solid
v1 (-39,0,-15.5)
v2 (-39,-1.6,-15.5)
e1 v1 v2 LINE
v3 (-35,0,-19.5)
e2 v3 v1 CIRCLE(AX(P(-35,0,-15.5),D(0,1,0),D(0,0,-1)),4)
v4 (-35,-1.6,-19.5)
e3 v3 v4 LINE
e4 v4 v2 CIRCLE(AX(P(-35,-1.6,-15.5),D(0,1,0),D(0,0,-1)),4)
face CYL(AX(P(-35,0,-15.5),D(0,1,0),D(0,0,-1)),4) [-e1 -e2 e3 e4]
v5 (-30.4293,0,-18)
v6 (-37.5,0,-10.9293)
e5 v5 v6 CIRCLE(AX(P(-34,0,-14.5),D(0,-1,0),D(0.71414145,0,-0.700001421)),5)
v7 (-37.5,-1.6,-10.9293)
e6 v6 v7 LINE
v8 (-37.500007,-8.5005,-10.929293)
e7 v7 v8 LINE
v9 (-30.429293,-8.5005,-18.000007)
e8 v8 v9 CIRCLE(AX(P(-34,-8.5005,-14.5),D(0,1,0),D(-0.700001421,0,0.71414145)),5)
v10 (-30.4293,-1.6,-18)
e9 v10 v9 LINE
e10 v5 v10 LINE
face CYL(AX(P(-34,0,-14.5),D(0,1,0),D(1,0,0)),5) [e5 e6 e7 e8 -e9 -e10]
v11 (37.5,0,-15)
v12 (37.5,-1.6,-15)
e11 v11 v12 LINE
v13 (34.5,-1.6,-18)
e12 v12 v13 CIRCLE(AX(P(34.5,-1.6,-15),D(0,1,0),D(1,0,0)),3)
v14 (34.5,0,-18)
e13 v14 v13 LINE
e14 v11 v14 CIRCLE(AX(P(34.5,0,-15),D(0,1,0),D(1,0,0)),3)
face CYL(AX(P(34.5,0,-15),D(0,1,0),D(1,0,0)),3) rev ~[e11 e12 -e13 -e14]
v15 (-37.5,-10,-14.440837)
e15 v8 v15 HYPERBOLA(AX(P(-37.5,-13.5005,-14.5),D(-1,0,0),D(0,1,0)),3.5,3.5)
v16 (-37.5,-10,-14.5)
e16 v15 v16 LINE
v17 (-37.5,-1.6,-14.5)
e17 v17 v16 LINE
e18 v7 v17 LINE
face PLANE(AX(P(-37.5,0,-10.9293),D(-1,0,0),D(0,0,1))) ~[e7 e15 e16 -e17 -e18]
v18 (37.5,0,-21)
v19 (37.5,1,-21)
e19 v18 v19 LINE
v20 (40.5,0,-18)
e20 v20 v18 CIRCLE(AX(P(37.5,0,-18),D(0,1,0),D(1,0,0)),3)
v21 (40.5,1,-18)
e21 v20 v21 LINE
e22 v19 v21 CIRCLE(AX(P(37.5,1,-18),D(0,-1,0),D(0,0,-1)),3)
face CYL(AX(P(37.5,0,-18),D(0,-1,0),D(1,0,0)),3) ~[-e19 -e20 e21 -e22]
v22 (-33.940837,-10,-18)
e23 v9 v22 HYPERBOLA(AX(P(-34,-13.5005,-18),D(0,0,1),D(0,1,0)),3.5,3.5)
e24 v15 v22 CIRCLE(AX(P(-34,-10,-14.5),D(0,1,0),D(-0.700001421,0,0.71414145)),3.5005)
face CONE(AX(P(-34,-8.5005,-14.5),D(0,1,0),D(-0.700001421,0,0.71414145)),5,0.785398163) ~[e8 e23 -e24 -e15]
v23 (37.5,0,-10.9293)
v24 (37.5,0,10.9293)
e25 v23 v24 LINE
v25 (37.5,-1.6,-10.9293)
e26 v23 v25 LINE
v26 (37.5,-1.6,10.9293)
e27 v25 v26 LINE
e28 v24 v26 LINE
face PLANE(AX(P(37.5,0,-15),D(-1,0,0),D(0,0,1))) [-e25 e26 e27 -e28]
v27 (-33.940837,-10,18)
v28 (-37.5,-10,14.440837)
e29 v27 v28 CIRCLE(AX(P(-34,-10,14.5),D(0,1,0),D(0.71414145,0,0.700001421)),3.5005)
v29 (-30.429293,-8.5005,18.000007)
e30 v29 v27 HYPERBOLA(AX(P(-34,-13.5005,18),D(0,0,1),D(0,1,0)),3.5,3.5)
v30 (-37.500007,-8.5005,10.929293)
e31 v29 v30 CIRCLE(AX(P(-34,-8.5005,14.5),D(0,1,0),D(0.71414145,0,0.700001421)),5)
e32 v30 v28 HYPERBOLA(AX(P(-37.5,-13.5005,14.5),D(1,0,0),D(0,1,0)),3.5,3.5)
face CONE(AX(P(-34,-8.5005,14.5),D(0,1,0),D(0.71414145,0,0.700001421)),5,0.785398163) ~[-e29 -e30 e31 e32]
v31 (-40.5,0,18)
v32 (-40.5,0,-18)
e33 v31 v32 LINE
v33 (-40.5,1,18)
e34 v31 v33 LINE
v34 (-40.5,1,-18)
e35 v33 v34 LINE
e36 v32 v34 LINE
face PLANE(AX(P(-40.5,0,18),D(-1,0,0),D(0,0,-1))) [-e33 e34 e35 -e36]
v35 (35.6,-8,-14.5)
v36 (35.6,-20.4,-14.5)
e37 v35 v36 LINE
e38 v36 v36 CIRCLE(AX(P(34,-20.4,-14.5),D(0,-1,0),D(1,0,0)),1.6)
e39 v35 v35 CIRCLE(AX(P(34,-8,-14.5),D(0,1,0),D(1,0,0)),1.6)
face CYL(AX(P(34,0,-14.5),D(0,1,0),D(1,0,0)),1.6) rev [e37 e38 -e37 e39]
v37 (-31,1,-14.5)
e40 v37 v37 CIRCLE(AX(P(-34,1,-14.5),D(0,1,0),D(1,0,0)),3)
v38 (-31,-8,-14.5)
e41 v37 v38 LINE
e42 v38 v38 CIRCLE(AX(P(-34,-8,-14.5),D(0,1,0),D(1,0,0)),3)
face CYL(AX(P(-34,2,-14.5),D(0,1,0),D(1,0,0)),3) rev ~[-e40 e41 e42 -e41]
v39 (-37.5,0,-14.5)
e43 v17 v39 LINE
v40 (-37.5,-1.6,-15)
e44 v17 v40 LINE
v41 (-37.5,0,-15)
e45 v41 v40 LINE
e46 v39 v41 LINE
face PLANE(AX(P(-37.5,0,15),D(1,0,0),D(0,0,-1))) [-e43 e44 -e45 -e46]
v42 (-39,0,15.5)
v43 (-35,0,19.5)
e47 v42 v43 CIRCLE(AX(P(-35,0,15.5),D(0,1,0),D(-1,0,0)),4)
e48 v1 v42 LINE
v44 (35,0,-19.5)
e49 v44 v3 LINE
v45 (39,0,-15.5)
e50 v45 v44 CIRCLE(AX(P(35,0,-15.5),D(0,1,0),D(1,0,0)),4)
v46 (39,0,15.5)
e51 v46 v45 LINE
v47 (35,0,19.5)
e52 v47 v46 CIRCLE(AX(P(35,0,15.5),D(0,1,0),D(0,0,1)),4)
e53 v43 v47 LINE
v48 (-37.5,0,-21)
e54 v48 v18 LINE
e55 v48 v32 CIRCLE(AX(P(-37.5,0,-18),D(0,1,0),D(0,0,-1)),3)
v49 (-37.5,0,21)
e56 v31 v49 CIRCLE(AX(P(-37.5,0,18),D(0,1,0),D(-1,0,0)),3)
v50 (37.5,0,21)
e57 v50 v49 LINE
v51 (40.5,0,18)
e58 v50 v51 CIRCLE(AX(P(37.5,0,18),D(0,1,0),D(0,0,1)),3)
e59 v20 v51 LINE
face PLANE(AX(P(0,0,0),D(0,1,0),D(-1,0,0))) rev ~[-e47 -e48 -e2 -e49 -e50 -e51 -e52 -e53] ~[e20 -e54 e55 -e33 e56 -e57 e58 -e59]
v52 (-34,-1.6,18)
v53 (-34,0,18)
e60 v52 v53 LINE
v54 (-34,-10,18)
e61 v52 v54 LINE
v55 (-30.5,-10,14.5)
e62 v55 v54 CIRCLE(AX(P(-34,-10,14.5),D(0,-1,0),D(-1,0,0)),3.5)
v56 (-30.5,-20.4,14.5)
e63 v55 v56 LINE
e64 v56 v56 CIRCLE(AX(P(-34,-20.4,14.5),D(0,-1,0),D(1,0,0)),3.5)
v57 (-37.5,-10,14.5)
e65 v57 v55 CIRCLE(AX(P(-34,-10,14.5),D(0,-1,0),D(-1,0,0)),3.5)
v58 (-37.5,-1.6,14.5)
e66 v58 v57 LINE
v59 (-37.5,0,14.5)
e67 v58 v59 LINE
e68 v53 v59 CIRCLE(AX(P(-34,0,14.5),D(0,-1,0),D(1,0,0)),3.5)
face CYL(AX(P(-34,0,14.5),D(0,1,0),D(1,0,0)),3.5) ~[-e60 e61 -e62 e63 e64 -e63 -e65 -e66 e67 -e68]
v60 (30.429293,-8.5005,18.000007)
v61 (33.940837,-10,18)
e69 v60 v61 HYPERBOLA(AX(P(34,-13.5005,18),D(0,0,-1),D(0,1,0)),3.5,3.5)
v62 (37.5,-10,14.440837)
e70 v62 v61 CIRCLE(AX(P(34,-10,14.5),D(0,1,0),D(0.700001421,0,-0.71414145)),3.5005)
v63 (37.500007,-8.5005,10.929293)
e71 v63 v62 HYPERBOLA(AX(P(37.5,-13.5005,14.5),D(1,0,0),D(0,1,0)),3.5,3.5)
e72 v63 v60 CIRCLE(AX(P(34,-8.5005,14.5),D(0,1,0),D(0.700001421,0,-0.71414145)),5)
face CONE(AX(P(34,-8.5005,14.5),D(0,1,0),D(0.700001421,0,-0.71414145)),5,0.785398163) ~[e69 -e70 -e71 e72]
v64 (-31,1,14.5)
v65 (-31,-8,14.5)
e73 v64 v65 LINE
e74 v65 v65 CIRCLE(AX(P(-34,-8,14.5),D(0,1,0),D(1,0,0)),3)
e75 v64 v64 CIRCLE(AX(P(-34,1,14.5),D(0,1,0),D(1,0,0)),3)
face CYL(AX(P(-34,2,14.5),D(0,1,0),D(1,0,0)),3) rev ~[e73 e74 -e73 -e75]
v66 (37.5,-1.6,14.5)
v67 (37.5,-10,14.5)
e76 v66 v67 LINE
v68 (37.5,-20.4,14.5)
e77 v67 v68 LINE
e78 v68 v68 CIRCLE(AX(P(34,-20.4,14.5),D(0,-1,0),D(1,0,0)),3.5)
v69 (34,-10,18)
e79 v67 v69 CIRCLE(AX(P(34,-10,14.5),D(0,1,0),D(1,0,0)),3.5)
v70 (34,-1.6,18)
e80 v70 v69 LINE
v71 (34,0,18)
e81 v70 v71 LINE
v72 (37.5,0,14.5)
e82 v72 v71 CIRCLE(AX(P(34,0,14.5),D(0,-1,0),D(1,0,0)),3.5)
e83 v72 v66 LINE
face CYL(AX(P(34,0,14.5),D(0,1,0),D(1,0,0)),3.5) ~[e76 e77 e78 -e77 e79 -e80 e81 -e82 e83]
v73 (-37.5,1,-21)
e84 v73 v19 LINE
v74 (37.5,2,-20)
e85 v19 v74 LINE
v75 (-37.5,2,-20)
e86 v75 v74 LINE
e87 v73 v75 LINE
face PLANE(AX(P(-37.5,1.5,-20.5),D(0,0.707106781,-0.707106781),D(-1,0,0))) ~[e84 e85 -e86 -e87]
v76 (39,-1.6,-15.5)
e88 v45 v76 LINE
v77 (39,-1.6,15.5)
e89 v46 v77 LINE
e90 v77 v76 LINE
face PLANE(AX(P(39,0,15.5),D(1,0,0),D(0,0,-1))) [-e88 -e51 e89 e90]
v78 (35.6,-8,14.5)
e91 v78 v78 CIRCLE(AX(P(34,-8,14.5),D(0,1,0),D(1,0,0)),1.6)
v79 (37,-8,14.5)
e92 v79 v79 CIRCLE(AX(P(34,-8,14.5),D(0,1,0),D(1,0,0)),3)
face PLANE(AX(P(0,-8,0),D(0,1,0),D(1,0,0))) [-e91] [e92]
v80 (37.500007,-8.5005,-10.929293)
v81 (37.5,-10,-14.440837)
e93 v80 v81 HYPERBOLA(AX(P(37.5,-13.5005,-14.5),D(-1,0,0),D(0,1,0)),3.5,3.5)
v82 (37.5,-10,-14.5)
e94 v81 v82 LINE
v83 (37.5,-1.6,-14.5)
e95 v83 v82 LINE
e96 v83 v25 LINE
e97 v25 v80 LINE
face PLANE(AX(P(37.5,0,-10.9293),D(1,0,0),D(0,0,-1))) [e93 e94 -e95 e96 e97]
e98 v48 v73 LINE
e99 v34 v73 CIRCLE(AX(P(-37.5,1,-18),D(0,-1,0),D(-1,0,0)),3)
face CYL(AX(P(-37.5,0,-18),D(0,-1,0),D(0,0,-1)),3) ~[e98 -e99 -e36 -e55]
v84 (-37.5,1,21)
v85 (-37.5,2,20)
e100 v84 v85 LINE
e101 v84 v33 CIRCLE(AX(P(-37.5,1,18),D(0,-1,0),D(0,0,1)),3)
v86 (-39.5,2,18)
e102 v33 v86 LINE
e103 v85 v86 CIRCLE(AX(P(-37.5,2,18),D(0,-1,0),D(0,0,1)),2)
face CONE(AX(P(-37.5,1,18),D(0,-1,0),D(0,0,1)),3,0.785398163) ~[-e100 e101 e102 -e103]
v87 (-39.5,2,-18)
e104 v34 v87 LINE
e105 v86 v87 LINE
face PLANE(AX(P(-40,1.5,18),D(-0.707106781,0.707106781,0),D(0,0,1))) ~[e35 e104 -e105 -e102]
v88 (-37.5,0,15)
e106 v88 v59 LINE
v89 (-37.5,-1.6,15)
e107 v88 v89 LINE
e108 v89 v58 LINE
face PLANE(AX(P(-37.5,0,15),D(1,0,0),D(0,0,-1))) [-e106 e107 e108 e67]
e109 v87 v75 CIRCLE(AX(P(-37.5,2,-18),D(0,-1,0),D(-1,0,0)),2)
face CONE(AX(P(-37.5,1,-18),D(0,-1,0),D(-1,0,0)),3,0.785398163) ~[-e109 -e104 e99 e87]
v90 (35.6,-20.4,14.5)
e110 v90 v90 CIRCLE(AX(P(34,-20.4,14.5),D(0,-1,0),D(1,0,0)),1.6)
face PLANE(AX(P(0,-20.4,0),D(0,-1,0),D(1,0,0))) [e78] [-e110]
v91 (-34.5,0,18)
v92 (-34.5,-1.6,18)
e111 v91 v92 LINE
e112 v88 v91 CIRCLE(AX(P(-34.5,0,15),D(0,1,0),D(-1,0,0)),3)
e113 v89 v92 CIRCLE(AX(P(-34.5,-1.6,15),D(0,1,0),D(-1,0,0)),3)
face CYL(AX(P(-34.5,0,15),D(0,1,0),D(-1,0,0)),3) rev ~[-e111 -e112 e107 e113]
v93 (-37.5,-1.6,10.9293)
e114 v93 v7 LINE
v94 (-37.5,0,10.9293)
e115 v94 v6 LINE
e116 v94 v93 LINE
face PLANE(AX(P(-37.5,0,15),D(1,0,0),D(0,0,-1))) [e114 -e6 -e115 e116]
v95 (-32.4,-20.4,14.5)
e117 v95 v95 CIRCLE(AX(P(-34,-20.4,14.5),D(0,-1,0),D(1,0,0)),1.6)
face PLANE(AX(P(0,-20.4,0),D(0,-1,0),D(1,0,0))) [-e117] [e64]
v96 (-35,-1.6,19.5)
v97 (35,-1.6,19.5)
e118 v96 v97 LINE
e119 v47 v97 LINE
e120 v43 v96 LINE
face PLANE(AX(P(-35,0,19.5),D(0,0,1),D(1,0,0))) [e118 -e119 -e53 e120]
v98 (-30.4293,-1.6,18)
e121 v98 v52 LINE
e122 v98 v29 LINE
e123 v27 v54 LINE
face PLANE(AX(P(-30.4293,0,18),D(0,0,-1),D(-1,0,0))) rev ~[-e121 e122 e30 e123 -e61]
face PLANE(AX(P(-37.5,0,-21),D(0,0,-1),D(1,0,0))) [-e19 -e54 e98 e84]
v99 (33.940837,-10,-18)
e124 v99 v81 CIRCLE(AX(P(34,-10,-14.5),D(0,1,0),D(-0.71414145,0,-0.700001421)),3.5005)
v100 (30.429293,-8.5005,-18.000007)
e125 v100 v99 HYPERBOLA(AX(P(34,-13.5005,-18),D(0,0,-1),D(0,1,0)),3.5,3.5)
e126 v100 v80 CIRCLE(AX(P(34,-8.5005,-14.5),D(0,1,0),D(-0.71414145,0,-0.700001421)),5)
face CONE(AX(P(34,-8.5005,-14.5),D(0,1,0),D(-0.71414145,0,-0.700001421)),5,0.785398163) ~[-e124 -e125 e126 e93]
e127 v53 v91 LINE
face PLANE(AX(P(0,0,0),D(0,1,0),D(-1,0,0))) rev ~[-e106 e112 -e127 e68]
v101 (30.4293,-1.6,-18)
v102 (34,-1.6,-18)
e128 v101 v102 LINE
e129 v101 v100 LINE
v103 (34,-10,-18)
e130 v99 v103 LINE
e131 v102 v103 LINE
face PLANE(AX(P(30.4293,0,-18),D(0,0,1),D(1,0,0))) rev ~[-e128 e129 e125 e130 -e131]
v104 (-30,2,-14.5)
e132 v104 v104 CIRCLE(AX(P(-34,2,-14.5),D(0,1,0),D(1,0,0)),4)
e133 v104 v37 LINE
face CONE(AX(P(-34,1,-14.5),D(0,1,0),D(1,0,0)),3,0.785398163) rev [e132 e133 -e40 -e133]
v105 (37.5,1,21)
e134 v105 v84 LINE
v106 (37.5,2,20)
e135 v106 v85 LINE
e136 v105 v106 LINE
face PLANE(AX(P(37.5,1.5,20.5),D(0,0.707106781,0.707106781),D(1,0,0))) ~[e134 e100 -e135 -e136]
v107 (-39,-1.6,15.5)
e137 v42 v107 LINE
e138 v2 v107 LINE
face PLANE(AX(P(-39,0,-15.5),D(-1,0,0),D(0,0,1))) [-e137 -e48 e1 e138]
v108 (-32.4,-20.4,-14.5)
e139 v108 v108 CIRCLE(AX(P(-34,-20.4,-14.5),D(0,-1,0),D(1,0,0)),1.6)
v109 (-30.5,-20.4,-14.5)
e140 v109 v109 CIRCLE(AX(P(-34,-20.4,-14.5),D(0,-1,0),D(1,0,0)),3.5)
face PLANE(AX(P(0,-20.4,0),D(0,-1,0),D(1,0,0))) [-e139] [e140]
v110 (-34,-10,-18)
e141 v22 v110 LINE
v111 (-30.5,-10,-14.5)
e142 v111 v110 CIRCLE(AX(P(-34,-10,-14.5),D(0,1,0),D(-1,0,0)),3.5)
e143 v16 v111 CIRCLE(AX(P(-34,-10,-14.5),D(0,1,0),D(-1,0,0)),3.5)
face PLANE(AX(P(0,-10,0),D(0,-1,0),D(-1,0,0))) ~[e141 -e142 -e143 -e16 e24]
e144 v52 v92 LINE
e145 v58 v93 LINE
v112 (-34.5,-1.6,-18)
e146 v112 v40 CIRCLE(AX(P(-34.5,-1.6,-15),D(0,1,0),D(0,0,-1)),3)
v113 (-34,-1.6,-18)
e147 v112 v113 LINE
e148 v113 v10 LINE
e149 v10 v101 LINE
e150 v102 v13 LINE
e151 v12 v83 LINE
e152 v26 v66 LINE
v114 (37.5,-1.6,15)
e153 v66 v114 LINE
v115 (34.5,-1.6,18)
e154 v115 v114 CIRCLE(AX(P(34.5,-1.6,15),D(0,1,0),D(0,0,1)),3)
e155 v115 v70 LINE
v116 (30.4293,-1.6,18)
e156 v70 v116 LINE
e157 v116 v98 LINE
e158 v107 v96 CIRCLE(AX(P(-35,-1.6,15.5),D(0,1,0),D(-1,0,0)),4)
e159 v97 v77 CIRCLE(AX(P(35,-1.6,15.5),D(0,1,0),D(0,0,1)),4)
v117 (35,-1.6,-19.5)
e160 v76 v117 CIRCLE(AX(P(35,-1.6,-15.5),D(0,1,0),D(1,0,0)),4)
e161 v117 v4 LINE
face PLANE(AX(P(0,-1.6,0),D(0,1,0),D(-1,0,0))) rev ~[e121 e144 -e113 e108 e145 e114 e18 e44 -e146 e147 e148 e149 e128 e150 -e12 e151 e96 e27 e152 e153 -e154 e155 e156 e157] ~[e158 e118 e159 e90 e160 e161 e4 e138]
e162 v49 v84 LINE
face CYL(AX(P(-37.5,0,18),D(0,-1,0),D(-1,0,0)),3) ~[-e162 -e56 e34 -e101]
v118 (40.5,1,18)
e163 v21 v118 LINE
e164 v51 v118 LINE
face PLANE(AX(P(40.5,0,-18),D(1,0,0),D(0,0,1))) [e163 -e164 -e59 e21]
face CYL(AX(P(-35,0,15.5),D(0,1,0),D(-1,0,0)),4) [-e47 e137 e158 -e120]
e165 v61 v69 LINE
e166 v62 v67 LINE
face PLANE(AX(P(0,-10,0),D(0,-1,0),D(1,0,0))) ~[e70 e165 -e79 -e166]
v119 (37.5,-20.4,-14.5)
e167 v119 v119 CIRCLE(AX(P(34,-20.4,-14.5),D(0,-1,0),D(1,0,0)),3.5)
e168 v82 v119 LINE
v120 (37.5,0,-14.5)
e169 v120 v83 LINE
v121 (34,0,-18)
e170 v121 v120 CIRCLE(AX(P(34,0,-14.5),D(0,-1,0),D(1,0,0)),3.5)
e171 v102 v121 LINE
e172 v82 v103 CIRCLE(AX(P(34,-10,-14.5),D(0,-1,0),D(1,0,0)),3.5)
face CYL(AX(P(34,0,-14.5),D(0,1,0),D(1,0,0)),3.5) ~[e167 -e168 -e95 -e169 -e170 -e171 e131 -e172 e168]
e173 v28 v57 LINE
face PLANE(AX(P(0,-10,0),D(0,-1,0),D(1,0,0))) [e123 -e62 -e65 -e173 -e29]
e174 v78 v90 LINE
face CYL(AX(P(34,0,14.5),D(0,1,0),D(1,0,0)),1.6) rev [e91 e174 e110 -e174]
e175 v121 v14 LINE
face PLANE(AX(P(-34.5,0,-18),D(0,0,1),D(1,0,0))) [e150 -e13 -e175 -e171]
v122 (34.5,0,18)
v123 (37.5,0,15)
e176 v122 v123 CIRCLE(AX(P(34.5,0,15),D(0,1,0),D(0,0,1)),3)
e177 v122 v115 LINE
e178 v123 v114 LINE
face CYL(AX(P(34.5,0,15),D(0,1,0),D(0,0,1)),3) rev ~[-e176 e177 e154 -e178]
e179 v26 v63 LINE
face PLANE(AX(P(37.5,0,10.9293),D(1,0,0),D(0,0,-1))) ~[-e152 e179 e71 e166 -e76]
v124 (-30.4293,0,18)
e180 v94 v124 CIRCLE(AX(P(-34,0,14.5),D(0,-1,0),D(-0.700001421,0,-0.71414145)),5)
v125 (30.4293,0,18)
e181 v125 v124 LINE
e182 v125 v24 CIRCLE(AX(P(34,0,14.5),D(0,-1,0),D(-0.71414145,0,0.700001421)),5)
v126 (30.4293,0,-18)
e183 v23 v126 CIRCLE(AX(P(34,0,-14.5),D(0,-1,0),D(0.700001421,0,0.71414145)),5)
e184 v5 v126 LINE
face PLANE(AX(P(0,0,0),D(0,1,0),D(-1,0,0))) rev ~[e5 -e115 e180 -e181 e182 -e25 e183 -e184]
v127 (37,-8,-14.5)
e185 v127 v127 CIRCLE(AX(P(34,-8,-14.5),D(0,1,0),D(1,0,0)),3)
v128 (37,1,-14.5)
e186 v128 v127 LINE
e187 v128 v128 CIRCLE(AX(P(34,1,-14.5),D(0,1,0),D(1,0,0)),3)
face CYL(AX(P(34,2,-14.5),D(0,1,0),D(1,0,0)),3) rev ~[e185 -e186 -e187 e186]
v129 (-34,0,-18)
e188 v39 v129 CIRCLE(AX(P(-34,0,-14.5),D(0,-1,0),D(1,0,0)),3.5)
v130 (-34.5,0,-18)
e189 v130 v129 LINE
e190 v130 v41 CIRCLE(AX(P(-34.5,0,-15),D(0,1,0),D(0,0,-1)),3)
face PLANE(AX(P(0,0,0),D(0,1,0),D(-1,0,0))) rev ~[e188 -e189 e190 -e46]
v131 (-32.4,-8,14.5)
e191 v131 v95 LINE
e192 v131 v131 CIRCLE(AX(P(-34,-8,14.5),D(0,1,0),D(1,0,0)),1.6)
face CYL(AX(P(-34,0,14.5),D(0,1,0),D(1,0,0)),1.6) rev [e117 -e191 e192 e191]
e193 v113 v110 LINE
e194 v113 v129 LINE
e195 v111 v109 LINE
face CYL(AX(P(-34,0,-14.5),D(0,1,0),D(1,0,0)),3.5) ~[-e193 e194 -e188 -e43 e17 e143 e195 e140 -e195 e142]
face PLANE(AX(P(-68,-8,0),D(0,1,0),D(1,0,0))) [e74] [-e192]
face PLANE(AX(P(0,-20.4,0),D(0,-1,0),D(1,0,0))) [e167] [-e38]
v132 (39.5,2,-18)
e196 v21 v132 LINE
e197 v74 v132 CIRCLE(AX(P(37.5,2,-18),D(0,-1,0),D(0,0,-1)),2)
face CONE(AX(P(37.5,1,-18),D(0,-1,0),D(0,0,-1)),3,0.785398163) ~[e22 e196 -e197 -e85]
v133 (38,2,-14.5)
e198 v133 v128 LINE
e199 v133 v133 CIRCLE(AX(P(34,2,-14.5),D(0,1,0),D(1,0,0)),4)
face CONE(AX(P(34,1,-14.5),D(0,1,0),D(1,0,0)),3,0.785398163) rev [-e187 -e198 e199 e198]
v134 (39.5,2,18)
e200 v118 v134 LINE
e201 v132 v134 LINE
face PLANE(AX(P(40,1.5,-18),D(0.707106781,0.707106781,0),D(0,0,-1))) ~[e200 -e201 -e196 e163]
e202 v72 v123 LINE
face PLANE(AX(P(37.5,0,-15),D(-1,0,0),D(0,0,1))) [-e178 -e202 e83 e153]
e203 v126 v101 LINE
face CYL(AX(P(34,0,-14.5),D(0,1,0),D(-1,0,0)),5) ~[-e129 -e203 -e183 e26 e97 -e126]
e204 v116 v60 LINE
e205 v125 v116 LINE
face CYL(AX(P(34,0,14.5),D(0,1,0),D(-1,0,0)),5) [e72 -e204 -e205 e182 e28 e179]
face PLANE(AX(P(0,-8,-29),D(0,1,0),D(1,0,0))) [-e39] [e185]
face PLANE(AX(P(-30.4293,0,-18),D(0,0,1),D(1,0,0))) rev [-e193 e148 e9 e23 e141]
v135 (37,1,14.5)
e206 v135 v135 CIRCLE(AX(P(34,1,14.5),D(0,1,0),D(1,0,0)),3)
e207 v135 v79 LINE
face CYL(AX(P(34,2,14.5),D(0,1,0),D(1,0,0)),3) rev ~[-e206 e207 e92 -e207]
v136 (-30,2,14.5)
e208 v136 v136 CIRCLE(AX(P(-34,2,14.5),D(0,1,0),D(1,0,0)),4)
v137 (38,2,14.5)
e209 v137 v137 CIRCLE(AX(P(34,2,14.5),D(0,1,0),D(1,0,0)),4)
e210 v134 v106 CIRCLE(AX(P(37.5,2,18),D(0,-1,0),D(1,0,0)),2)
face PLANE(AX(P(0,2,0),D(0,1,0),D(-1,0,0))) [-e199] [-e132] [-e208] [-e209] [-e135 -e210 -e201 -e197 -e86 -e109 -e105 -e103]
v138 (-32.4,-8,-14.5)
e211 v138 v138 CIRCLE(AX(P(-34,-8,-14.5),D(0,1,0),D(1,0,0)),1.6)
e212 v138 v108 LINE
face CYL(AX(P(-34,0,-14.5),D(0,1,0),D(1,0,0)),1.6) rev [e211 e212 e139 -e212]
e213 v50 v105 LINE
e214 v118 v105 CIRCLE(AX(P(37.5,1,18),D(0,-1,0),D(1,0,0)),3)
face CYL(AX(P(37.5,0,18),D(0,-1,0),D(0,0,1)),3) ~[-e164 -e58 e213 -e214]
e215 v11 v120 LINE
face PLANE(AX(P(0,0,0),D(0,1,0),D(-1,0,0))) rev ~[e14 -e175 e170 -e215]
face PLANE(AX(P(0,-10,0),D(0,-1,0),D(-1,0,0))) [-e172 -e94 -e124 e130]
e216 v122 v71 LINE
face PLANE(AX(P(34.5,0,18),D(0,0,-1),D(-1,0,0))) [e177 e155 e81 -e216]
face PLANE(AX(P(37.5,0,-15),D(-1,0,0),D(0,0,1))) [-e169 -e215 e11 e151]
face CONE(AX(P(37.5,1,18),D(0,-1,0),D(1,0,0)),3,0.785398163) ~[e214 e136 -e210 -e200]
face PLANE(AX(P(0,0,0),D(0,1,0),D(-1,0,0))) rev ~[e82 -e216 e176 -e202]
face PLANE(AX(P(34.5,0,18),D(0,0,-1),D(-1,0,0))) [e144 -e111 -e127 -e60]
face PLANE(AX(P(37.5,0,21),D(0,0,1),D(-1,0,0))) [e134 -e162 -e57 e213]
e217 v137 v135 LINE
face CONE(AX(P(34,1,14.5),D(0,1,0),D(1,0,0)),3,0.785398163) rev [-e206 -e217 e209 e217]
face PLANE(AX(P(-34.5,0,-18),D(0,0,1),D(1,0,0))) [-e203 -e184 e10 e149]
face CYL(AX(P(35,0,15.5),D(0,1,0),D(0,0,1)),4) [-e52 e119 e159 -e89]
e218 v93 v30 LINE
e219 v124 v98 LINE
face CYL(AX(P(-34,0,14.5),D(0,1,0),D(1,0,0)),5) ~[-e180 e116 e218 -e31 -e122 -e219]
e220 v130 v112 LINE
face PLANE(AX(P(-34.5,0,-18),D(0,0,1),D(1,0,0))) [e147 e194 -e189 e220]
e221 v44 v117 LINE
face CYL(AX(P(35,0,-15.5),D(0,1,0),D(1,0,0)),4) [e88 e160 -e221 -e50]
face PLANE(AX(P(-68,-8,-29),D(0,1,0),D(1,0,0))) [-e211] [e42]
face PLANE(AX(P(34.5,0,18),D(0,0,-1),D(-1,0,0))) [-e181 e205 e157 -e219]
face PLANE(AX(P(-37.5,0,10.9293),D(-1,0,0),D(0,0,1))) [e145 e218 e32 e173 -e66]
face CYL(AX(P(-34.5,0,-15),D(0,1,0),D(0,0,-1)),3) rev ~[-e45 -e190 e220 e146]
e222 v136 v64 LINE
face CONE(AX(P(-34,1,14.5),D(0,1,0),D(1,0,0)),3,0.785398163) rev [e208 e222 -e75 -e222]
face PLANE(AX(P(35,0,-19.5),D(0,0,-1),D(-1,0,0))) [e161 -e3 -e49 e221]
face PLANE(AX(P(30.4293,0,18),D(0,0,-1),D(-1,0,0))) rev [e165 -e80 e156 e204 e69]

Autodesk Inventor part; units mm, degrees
ref_plane "YZ Plane" through (0, 0, 0) normal (1, 0, 0) x (0, 1, 0)
ref_plane "XZ Plane" through (0, 0, 0) normal (0, 1, 0) x (-1, 0, 0)
ref_plane "XY Plane" through (0, 0, 0) normal (0, 0, 1) x (1, 0, 0)
sketch "Sketch1" plane through (0, 0, 0) normal (0, 1, 0) x (-1, 0, 0)
  line L0 (34.5, -18) -> (-34.5, -18)
  line L1 (-37.5, -15) -> (-37.5, 15)
  line L2 (-34.5, 18) -> (34.5, 18)
  line L3 (37.5, 15) -> (37.5, -15)
  line L4 (37.5, -21) -> (-37.5, -21)
  line L5 (-40.5, -18) -> (-40.5, 18)
  line L6 (-37.5, 21) -> (37.5, 21)
  line L7 (40.5, 18) -> (40.5, -18)
  arc A0 (37.5, -21) -> (40.5, -18) centre (37.5, -18) ccw
  arc A1 (34.5, -18) -> (37.5, -15) centre (34.5, -15) ccw
  arc A2 (37.5, 15) -> (34.5, 18) centre (34.5, 15) ccw
  arc A3 (40.5, 18) -> (37.5, 21) centre (37.5, 18) ccw
  arc A4 (-37.5, 21) -> (-40.5, 18) centre (-37.5, 18) ccw
  arc A5 (-34.5, 18) -> (-37.5, 15) centre (-34.5, 15) ccw
  arc A6 (-40.5, -18) -> (-37.5, -21) centre (-37.5, -18) ccw
  arc A7 (-37.5, -15) -> (-34.5, -18) centre (-34.5, -15) ccw
  line L8 (35, 19.5) -> (-35, 19.5)
  line L9 (-39, 15.5) -> (-39, -15.5)
  line L10 (-35, -19.5) -> (35, -19.5)
  line L11 (39, -15.5) -> (39, 15.5)
  arc A8 (39, 15.5) -> (35, 19.5) centre (35, 15.5) ccw
  arc A9 (-35, 19.5) -> (-39, 15.5) centre (-35, 15.5) ccw
  arc A10 (-39, -15.5) -> (-35, -19.5) centre (-35, -15.5) ccw
  arc A11 (35, -19.5) -> (39, -15.5) centre (35, -15.5) ccw
  point P0 (0, 0)
  point P1 (-37.5, 18)
  point P2 (-37.5, -18)
  point P3 (37.5, 18)
  dimension "d0" = 75
  dimension "d1" = 36
  dimension "d2" = 3
  dimension "d3" = 3
  dimension "d4" = 3
  dimension "d5" = 3
  dimension "d6" = 3
  dimension "d9" = 1.5
  dimension "d10" = 1.5
  dimension "d11" = 1.5
  dimension "d12" = 1.5
  dimension "d13" = 4
  dimension "d58" = 18
  dimension "d59" = 37.5
extrude "Extrusion1" add sketch "Sketch1" along normal blind 2 contours L0 A7 L1 A5 L2 A2 L3 A1 | L4 A6 L5 A4 L6 A3 L7 A0 | A8 L11 A11 L10 A10 L9 A9 L8
extrude "Extrusion2" add sketch "Sketch1" against normal blind 1.6 contours A8 L11 A11 L10 A10 L9 A9 L8
sketch "Sketch3" plane through (0, 2, 0) normal (0, 1, 0) x (1, 0, 0)
  line L0 (37.5, 21) -> (-37.5, 21) projected
  line L1 (-40.5, 18) -> (-40.5, -18) projected
  point P0 (0, 0)
  point P1 (-34, 14.5)
  dimension "d16" = 6.5
  dimension "d17" = 6.5
hole "Hole1" at (-34, 2, -14.5) direction (0, -1, 0) diameter 3.2 end through all
pattern_linear "Rectangular Pattern1" count 2 spacing 68 along (1, 0, 0) count 2 spacing 29 along (0, 0, 1) of "Hole1"
chamfer "Chamfer2" distance 1 angle 45 8 edges at (0, 2, -21) (-39.6213, 2, -20.1213) (-40.5, 2, 0) (-39.6213, 2, 20.1213) (0, 2, 21) (39.6213, 2, 20.1213) (40.5, 2, 0) (39.6213, 2, -20.1213)
sketch "Sketch4" plane through (0, 0, 0) normal (0, -1, 0) x (1, 0, 0)
  circle A0 centre (-34, 14.5) radius 1.6 projected
  circle A1 centre (-34, 14.5) radius 3.5
  circle A2 centre (34, 14.5) radius 1.6 projected
  circle A3 centre (34, 14.5) radius 3.5
  circle A4 centre (34, -14.5) radius 3.5
  circle A5 centre (-34, -14.5) radius 1.6 projected
  circle A6 centre (-34, -14.5) radius 3.5
  circle A7 centre (34, -14.5) radius 1.6
  circle A8 centre (34, -14.5) radius 1.6 projected
  point P0 (0, 0)
  dimension "d37" = 7
  dimension "d38" = 7
  dimension "d39" = 7
  dimension "d40" = 7
extrude "Extrusion3" add sketch "Sketch4" along normal blind 20.4
sketch "Sketch5" plane through (0, 2, 0) normal (0, 1, 0) x (1, 0, 0)
  circle A0 centre (34, -14.5) radius 1.6 projected
  circle A1 centre (34, -14.5) radius 3
  point P0 (0, 0)
  dimension "d43" = 6
extrude "Extrusion4" cut sketch "Sketch5" against normal blind 10 contours A0 | A1
chamfer "Chamfer3" distance 1 angle 45 1 edges at (31, 2, 14.5)
pattern_linear "Rectangular Pattern2" count 2 spacing 29 along (0, 0, -1) count 2 spacing 68 along (-1, 0, 0) of "Extrusion4", "Chamfer3"
sketch "Sketch6" plane through (0, 0, 0) normal (0, -1, 0) x (1, 0, 0)
  circle A0 centre (-34, 14.5) radius 1.6 projected
  circle A1 centre (-34, 14.5) radius 5
  circle A2 centre (-34, 14.5) radius 3
  line L0 (-37.5, -14.5) -> (-37.5, 14.5) projected
  arc A3 (-37.5, 14.5) -> (-34, 18) centre (-34, 14.5) ccw projected
  line L1 (-37.5, 10.9293) -> (-37.5, 14.5)
  line L2 (34, 18) -> (-34, 18) projected
  line L3 (-30.4293, 18) -> (-34, 18)
  point P0 (0, 0)
  dimension "d55" = 10
extrude "Extrusion5" add sketch "Sketch6" along normal blind 10 contours A1 L0 A3 L2 picked at (-33.6565, 10.0423)
mirror "Mirror1" about plane through (0, 0, 0) normal (0, 0, 1) of "Extrusion5"
mirror "Mirror2" about plane through (0, 0, 0) normal (1, 0, 0) of "Extrusion5", "Mirror1"
chamfer "Chamfer4" distance 1.5 angle 45 4 edges at (-30.4645, -10, -10.9645) (-30.4645, -10, 10.9645) (30.4645, -10, 10.9645) (30.4645, -10, -10.9645)
equation "\"d3\" = d2"
equation "\"d4\" = d2"
equation "\"d5\" = d2"
equation "\"d10\" = d9"
equation "\"d11\" = d9"
equation "\"d12\" = d9"
equation "\"d58\" = 0.5 * d1"
equation "\"d59\" = 0.5 * d0"
equation "\"d38\" = d37"
equation "\"d39\" = d38"
equation "\"d40\" = d37"
properties part number "current_sensor_cover"
